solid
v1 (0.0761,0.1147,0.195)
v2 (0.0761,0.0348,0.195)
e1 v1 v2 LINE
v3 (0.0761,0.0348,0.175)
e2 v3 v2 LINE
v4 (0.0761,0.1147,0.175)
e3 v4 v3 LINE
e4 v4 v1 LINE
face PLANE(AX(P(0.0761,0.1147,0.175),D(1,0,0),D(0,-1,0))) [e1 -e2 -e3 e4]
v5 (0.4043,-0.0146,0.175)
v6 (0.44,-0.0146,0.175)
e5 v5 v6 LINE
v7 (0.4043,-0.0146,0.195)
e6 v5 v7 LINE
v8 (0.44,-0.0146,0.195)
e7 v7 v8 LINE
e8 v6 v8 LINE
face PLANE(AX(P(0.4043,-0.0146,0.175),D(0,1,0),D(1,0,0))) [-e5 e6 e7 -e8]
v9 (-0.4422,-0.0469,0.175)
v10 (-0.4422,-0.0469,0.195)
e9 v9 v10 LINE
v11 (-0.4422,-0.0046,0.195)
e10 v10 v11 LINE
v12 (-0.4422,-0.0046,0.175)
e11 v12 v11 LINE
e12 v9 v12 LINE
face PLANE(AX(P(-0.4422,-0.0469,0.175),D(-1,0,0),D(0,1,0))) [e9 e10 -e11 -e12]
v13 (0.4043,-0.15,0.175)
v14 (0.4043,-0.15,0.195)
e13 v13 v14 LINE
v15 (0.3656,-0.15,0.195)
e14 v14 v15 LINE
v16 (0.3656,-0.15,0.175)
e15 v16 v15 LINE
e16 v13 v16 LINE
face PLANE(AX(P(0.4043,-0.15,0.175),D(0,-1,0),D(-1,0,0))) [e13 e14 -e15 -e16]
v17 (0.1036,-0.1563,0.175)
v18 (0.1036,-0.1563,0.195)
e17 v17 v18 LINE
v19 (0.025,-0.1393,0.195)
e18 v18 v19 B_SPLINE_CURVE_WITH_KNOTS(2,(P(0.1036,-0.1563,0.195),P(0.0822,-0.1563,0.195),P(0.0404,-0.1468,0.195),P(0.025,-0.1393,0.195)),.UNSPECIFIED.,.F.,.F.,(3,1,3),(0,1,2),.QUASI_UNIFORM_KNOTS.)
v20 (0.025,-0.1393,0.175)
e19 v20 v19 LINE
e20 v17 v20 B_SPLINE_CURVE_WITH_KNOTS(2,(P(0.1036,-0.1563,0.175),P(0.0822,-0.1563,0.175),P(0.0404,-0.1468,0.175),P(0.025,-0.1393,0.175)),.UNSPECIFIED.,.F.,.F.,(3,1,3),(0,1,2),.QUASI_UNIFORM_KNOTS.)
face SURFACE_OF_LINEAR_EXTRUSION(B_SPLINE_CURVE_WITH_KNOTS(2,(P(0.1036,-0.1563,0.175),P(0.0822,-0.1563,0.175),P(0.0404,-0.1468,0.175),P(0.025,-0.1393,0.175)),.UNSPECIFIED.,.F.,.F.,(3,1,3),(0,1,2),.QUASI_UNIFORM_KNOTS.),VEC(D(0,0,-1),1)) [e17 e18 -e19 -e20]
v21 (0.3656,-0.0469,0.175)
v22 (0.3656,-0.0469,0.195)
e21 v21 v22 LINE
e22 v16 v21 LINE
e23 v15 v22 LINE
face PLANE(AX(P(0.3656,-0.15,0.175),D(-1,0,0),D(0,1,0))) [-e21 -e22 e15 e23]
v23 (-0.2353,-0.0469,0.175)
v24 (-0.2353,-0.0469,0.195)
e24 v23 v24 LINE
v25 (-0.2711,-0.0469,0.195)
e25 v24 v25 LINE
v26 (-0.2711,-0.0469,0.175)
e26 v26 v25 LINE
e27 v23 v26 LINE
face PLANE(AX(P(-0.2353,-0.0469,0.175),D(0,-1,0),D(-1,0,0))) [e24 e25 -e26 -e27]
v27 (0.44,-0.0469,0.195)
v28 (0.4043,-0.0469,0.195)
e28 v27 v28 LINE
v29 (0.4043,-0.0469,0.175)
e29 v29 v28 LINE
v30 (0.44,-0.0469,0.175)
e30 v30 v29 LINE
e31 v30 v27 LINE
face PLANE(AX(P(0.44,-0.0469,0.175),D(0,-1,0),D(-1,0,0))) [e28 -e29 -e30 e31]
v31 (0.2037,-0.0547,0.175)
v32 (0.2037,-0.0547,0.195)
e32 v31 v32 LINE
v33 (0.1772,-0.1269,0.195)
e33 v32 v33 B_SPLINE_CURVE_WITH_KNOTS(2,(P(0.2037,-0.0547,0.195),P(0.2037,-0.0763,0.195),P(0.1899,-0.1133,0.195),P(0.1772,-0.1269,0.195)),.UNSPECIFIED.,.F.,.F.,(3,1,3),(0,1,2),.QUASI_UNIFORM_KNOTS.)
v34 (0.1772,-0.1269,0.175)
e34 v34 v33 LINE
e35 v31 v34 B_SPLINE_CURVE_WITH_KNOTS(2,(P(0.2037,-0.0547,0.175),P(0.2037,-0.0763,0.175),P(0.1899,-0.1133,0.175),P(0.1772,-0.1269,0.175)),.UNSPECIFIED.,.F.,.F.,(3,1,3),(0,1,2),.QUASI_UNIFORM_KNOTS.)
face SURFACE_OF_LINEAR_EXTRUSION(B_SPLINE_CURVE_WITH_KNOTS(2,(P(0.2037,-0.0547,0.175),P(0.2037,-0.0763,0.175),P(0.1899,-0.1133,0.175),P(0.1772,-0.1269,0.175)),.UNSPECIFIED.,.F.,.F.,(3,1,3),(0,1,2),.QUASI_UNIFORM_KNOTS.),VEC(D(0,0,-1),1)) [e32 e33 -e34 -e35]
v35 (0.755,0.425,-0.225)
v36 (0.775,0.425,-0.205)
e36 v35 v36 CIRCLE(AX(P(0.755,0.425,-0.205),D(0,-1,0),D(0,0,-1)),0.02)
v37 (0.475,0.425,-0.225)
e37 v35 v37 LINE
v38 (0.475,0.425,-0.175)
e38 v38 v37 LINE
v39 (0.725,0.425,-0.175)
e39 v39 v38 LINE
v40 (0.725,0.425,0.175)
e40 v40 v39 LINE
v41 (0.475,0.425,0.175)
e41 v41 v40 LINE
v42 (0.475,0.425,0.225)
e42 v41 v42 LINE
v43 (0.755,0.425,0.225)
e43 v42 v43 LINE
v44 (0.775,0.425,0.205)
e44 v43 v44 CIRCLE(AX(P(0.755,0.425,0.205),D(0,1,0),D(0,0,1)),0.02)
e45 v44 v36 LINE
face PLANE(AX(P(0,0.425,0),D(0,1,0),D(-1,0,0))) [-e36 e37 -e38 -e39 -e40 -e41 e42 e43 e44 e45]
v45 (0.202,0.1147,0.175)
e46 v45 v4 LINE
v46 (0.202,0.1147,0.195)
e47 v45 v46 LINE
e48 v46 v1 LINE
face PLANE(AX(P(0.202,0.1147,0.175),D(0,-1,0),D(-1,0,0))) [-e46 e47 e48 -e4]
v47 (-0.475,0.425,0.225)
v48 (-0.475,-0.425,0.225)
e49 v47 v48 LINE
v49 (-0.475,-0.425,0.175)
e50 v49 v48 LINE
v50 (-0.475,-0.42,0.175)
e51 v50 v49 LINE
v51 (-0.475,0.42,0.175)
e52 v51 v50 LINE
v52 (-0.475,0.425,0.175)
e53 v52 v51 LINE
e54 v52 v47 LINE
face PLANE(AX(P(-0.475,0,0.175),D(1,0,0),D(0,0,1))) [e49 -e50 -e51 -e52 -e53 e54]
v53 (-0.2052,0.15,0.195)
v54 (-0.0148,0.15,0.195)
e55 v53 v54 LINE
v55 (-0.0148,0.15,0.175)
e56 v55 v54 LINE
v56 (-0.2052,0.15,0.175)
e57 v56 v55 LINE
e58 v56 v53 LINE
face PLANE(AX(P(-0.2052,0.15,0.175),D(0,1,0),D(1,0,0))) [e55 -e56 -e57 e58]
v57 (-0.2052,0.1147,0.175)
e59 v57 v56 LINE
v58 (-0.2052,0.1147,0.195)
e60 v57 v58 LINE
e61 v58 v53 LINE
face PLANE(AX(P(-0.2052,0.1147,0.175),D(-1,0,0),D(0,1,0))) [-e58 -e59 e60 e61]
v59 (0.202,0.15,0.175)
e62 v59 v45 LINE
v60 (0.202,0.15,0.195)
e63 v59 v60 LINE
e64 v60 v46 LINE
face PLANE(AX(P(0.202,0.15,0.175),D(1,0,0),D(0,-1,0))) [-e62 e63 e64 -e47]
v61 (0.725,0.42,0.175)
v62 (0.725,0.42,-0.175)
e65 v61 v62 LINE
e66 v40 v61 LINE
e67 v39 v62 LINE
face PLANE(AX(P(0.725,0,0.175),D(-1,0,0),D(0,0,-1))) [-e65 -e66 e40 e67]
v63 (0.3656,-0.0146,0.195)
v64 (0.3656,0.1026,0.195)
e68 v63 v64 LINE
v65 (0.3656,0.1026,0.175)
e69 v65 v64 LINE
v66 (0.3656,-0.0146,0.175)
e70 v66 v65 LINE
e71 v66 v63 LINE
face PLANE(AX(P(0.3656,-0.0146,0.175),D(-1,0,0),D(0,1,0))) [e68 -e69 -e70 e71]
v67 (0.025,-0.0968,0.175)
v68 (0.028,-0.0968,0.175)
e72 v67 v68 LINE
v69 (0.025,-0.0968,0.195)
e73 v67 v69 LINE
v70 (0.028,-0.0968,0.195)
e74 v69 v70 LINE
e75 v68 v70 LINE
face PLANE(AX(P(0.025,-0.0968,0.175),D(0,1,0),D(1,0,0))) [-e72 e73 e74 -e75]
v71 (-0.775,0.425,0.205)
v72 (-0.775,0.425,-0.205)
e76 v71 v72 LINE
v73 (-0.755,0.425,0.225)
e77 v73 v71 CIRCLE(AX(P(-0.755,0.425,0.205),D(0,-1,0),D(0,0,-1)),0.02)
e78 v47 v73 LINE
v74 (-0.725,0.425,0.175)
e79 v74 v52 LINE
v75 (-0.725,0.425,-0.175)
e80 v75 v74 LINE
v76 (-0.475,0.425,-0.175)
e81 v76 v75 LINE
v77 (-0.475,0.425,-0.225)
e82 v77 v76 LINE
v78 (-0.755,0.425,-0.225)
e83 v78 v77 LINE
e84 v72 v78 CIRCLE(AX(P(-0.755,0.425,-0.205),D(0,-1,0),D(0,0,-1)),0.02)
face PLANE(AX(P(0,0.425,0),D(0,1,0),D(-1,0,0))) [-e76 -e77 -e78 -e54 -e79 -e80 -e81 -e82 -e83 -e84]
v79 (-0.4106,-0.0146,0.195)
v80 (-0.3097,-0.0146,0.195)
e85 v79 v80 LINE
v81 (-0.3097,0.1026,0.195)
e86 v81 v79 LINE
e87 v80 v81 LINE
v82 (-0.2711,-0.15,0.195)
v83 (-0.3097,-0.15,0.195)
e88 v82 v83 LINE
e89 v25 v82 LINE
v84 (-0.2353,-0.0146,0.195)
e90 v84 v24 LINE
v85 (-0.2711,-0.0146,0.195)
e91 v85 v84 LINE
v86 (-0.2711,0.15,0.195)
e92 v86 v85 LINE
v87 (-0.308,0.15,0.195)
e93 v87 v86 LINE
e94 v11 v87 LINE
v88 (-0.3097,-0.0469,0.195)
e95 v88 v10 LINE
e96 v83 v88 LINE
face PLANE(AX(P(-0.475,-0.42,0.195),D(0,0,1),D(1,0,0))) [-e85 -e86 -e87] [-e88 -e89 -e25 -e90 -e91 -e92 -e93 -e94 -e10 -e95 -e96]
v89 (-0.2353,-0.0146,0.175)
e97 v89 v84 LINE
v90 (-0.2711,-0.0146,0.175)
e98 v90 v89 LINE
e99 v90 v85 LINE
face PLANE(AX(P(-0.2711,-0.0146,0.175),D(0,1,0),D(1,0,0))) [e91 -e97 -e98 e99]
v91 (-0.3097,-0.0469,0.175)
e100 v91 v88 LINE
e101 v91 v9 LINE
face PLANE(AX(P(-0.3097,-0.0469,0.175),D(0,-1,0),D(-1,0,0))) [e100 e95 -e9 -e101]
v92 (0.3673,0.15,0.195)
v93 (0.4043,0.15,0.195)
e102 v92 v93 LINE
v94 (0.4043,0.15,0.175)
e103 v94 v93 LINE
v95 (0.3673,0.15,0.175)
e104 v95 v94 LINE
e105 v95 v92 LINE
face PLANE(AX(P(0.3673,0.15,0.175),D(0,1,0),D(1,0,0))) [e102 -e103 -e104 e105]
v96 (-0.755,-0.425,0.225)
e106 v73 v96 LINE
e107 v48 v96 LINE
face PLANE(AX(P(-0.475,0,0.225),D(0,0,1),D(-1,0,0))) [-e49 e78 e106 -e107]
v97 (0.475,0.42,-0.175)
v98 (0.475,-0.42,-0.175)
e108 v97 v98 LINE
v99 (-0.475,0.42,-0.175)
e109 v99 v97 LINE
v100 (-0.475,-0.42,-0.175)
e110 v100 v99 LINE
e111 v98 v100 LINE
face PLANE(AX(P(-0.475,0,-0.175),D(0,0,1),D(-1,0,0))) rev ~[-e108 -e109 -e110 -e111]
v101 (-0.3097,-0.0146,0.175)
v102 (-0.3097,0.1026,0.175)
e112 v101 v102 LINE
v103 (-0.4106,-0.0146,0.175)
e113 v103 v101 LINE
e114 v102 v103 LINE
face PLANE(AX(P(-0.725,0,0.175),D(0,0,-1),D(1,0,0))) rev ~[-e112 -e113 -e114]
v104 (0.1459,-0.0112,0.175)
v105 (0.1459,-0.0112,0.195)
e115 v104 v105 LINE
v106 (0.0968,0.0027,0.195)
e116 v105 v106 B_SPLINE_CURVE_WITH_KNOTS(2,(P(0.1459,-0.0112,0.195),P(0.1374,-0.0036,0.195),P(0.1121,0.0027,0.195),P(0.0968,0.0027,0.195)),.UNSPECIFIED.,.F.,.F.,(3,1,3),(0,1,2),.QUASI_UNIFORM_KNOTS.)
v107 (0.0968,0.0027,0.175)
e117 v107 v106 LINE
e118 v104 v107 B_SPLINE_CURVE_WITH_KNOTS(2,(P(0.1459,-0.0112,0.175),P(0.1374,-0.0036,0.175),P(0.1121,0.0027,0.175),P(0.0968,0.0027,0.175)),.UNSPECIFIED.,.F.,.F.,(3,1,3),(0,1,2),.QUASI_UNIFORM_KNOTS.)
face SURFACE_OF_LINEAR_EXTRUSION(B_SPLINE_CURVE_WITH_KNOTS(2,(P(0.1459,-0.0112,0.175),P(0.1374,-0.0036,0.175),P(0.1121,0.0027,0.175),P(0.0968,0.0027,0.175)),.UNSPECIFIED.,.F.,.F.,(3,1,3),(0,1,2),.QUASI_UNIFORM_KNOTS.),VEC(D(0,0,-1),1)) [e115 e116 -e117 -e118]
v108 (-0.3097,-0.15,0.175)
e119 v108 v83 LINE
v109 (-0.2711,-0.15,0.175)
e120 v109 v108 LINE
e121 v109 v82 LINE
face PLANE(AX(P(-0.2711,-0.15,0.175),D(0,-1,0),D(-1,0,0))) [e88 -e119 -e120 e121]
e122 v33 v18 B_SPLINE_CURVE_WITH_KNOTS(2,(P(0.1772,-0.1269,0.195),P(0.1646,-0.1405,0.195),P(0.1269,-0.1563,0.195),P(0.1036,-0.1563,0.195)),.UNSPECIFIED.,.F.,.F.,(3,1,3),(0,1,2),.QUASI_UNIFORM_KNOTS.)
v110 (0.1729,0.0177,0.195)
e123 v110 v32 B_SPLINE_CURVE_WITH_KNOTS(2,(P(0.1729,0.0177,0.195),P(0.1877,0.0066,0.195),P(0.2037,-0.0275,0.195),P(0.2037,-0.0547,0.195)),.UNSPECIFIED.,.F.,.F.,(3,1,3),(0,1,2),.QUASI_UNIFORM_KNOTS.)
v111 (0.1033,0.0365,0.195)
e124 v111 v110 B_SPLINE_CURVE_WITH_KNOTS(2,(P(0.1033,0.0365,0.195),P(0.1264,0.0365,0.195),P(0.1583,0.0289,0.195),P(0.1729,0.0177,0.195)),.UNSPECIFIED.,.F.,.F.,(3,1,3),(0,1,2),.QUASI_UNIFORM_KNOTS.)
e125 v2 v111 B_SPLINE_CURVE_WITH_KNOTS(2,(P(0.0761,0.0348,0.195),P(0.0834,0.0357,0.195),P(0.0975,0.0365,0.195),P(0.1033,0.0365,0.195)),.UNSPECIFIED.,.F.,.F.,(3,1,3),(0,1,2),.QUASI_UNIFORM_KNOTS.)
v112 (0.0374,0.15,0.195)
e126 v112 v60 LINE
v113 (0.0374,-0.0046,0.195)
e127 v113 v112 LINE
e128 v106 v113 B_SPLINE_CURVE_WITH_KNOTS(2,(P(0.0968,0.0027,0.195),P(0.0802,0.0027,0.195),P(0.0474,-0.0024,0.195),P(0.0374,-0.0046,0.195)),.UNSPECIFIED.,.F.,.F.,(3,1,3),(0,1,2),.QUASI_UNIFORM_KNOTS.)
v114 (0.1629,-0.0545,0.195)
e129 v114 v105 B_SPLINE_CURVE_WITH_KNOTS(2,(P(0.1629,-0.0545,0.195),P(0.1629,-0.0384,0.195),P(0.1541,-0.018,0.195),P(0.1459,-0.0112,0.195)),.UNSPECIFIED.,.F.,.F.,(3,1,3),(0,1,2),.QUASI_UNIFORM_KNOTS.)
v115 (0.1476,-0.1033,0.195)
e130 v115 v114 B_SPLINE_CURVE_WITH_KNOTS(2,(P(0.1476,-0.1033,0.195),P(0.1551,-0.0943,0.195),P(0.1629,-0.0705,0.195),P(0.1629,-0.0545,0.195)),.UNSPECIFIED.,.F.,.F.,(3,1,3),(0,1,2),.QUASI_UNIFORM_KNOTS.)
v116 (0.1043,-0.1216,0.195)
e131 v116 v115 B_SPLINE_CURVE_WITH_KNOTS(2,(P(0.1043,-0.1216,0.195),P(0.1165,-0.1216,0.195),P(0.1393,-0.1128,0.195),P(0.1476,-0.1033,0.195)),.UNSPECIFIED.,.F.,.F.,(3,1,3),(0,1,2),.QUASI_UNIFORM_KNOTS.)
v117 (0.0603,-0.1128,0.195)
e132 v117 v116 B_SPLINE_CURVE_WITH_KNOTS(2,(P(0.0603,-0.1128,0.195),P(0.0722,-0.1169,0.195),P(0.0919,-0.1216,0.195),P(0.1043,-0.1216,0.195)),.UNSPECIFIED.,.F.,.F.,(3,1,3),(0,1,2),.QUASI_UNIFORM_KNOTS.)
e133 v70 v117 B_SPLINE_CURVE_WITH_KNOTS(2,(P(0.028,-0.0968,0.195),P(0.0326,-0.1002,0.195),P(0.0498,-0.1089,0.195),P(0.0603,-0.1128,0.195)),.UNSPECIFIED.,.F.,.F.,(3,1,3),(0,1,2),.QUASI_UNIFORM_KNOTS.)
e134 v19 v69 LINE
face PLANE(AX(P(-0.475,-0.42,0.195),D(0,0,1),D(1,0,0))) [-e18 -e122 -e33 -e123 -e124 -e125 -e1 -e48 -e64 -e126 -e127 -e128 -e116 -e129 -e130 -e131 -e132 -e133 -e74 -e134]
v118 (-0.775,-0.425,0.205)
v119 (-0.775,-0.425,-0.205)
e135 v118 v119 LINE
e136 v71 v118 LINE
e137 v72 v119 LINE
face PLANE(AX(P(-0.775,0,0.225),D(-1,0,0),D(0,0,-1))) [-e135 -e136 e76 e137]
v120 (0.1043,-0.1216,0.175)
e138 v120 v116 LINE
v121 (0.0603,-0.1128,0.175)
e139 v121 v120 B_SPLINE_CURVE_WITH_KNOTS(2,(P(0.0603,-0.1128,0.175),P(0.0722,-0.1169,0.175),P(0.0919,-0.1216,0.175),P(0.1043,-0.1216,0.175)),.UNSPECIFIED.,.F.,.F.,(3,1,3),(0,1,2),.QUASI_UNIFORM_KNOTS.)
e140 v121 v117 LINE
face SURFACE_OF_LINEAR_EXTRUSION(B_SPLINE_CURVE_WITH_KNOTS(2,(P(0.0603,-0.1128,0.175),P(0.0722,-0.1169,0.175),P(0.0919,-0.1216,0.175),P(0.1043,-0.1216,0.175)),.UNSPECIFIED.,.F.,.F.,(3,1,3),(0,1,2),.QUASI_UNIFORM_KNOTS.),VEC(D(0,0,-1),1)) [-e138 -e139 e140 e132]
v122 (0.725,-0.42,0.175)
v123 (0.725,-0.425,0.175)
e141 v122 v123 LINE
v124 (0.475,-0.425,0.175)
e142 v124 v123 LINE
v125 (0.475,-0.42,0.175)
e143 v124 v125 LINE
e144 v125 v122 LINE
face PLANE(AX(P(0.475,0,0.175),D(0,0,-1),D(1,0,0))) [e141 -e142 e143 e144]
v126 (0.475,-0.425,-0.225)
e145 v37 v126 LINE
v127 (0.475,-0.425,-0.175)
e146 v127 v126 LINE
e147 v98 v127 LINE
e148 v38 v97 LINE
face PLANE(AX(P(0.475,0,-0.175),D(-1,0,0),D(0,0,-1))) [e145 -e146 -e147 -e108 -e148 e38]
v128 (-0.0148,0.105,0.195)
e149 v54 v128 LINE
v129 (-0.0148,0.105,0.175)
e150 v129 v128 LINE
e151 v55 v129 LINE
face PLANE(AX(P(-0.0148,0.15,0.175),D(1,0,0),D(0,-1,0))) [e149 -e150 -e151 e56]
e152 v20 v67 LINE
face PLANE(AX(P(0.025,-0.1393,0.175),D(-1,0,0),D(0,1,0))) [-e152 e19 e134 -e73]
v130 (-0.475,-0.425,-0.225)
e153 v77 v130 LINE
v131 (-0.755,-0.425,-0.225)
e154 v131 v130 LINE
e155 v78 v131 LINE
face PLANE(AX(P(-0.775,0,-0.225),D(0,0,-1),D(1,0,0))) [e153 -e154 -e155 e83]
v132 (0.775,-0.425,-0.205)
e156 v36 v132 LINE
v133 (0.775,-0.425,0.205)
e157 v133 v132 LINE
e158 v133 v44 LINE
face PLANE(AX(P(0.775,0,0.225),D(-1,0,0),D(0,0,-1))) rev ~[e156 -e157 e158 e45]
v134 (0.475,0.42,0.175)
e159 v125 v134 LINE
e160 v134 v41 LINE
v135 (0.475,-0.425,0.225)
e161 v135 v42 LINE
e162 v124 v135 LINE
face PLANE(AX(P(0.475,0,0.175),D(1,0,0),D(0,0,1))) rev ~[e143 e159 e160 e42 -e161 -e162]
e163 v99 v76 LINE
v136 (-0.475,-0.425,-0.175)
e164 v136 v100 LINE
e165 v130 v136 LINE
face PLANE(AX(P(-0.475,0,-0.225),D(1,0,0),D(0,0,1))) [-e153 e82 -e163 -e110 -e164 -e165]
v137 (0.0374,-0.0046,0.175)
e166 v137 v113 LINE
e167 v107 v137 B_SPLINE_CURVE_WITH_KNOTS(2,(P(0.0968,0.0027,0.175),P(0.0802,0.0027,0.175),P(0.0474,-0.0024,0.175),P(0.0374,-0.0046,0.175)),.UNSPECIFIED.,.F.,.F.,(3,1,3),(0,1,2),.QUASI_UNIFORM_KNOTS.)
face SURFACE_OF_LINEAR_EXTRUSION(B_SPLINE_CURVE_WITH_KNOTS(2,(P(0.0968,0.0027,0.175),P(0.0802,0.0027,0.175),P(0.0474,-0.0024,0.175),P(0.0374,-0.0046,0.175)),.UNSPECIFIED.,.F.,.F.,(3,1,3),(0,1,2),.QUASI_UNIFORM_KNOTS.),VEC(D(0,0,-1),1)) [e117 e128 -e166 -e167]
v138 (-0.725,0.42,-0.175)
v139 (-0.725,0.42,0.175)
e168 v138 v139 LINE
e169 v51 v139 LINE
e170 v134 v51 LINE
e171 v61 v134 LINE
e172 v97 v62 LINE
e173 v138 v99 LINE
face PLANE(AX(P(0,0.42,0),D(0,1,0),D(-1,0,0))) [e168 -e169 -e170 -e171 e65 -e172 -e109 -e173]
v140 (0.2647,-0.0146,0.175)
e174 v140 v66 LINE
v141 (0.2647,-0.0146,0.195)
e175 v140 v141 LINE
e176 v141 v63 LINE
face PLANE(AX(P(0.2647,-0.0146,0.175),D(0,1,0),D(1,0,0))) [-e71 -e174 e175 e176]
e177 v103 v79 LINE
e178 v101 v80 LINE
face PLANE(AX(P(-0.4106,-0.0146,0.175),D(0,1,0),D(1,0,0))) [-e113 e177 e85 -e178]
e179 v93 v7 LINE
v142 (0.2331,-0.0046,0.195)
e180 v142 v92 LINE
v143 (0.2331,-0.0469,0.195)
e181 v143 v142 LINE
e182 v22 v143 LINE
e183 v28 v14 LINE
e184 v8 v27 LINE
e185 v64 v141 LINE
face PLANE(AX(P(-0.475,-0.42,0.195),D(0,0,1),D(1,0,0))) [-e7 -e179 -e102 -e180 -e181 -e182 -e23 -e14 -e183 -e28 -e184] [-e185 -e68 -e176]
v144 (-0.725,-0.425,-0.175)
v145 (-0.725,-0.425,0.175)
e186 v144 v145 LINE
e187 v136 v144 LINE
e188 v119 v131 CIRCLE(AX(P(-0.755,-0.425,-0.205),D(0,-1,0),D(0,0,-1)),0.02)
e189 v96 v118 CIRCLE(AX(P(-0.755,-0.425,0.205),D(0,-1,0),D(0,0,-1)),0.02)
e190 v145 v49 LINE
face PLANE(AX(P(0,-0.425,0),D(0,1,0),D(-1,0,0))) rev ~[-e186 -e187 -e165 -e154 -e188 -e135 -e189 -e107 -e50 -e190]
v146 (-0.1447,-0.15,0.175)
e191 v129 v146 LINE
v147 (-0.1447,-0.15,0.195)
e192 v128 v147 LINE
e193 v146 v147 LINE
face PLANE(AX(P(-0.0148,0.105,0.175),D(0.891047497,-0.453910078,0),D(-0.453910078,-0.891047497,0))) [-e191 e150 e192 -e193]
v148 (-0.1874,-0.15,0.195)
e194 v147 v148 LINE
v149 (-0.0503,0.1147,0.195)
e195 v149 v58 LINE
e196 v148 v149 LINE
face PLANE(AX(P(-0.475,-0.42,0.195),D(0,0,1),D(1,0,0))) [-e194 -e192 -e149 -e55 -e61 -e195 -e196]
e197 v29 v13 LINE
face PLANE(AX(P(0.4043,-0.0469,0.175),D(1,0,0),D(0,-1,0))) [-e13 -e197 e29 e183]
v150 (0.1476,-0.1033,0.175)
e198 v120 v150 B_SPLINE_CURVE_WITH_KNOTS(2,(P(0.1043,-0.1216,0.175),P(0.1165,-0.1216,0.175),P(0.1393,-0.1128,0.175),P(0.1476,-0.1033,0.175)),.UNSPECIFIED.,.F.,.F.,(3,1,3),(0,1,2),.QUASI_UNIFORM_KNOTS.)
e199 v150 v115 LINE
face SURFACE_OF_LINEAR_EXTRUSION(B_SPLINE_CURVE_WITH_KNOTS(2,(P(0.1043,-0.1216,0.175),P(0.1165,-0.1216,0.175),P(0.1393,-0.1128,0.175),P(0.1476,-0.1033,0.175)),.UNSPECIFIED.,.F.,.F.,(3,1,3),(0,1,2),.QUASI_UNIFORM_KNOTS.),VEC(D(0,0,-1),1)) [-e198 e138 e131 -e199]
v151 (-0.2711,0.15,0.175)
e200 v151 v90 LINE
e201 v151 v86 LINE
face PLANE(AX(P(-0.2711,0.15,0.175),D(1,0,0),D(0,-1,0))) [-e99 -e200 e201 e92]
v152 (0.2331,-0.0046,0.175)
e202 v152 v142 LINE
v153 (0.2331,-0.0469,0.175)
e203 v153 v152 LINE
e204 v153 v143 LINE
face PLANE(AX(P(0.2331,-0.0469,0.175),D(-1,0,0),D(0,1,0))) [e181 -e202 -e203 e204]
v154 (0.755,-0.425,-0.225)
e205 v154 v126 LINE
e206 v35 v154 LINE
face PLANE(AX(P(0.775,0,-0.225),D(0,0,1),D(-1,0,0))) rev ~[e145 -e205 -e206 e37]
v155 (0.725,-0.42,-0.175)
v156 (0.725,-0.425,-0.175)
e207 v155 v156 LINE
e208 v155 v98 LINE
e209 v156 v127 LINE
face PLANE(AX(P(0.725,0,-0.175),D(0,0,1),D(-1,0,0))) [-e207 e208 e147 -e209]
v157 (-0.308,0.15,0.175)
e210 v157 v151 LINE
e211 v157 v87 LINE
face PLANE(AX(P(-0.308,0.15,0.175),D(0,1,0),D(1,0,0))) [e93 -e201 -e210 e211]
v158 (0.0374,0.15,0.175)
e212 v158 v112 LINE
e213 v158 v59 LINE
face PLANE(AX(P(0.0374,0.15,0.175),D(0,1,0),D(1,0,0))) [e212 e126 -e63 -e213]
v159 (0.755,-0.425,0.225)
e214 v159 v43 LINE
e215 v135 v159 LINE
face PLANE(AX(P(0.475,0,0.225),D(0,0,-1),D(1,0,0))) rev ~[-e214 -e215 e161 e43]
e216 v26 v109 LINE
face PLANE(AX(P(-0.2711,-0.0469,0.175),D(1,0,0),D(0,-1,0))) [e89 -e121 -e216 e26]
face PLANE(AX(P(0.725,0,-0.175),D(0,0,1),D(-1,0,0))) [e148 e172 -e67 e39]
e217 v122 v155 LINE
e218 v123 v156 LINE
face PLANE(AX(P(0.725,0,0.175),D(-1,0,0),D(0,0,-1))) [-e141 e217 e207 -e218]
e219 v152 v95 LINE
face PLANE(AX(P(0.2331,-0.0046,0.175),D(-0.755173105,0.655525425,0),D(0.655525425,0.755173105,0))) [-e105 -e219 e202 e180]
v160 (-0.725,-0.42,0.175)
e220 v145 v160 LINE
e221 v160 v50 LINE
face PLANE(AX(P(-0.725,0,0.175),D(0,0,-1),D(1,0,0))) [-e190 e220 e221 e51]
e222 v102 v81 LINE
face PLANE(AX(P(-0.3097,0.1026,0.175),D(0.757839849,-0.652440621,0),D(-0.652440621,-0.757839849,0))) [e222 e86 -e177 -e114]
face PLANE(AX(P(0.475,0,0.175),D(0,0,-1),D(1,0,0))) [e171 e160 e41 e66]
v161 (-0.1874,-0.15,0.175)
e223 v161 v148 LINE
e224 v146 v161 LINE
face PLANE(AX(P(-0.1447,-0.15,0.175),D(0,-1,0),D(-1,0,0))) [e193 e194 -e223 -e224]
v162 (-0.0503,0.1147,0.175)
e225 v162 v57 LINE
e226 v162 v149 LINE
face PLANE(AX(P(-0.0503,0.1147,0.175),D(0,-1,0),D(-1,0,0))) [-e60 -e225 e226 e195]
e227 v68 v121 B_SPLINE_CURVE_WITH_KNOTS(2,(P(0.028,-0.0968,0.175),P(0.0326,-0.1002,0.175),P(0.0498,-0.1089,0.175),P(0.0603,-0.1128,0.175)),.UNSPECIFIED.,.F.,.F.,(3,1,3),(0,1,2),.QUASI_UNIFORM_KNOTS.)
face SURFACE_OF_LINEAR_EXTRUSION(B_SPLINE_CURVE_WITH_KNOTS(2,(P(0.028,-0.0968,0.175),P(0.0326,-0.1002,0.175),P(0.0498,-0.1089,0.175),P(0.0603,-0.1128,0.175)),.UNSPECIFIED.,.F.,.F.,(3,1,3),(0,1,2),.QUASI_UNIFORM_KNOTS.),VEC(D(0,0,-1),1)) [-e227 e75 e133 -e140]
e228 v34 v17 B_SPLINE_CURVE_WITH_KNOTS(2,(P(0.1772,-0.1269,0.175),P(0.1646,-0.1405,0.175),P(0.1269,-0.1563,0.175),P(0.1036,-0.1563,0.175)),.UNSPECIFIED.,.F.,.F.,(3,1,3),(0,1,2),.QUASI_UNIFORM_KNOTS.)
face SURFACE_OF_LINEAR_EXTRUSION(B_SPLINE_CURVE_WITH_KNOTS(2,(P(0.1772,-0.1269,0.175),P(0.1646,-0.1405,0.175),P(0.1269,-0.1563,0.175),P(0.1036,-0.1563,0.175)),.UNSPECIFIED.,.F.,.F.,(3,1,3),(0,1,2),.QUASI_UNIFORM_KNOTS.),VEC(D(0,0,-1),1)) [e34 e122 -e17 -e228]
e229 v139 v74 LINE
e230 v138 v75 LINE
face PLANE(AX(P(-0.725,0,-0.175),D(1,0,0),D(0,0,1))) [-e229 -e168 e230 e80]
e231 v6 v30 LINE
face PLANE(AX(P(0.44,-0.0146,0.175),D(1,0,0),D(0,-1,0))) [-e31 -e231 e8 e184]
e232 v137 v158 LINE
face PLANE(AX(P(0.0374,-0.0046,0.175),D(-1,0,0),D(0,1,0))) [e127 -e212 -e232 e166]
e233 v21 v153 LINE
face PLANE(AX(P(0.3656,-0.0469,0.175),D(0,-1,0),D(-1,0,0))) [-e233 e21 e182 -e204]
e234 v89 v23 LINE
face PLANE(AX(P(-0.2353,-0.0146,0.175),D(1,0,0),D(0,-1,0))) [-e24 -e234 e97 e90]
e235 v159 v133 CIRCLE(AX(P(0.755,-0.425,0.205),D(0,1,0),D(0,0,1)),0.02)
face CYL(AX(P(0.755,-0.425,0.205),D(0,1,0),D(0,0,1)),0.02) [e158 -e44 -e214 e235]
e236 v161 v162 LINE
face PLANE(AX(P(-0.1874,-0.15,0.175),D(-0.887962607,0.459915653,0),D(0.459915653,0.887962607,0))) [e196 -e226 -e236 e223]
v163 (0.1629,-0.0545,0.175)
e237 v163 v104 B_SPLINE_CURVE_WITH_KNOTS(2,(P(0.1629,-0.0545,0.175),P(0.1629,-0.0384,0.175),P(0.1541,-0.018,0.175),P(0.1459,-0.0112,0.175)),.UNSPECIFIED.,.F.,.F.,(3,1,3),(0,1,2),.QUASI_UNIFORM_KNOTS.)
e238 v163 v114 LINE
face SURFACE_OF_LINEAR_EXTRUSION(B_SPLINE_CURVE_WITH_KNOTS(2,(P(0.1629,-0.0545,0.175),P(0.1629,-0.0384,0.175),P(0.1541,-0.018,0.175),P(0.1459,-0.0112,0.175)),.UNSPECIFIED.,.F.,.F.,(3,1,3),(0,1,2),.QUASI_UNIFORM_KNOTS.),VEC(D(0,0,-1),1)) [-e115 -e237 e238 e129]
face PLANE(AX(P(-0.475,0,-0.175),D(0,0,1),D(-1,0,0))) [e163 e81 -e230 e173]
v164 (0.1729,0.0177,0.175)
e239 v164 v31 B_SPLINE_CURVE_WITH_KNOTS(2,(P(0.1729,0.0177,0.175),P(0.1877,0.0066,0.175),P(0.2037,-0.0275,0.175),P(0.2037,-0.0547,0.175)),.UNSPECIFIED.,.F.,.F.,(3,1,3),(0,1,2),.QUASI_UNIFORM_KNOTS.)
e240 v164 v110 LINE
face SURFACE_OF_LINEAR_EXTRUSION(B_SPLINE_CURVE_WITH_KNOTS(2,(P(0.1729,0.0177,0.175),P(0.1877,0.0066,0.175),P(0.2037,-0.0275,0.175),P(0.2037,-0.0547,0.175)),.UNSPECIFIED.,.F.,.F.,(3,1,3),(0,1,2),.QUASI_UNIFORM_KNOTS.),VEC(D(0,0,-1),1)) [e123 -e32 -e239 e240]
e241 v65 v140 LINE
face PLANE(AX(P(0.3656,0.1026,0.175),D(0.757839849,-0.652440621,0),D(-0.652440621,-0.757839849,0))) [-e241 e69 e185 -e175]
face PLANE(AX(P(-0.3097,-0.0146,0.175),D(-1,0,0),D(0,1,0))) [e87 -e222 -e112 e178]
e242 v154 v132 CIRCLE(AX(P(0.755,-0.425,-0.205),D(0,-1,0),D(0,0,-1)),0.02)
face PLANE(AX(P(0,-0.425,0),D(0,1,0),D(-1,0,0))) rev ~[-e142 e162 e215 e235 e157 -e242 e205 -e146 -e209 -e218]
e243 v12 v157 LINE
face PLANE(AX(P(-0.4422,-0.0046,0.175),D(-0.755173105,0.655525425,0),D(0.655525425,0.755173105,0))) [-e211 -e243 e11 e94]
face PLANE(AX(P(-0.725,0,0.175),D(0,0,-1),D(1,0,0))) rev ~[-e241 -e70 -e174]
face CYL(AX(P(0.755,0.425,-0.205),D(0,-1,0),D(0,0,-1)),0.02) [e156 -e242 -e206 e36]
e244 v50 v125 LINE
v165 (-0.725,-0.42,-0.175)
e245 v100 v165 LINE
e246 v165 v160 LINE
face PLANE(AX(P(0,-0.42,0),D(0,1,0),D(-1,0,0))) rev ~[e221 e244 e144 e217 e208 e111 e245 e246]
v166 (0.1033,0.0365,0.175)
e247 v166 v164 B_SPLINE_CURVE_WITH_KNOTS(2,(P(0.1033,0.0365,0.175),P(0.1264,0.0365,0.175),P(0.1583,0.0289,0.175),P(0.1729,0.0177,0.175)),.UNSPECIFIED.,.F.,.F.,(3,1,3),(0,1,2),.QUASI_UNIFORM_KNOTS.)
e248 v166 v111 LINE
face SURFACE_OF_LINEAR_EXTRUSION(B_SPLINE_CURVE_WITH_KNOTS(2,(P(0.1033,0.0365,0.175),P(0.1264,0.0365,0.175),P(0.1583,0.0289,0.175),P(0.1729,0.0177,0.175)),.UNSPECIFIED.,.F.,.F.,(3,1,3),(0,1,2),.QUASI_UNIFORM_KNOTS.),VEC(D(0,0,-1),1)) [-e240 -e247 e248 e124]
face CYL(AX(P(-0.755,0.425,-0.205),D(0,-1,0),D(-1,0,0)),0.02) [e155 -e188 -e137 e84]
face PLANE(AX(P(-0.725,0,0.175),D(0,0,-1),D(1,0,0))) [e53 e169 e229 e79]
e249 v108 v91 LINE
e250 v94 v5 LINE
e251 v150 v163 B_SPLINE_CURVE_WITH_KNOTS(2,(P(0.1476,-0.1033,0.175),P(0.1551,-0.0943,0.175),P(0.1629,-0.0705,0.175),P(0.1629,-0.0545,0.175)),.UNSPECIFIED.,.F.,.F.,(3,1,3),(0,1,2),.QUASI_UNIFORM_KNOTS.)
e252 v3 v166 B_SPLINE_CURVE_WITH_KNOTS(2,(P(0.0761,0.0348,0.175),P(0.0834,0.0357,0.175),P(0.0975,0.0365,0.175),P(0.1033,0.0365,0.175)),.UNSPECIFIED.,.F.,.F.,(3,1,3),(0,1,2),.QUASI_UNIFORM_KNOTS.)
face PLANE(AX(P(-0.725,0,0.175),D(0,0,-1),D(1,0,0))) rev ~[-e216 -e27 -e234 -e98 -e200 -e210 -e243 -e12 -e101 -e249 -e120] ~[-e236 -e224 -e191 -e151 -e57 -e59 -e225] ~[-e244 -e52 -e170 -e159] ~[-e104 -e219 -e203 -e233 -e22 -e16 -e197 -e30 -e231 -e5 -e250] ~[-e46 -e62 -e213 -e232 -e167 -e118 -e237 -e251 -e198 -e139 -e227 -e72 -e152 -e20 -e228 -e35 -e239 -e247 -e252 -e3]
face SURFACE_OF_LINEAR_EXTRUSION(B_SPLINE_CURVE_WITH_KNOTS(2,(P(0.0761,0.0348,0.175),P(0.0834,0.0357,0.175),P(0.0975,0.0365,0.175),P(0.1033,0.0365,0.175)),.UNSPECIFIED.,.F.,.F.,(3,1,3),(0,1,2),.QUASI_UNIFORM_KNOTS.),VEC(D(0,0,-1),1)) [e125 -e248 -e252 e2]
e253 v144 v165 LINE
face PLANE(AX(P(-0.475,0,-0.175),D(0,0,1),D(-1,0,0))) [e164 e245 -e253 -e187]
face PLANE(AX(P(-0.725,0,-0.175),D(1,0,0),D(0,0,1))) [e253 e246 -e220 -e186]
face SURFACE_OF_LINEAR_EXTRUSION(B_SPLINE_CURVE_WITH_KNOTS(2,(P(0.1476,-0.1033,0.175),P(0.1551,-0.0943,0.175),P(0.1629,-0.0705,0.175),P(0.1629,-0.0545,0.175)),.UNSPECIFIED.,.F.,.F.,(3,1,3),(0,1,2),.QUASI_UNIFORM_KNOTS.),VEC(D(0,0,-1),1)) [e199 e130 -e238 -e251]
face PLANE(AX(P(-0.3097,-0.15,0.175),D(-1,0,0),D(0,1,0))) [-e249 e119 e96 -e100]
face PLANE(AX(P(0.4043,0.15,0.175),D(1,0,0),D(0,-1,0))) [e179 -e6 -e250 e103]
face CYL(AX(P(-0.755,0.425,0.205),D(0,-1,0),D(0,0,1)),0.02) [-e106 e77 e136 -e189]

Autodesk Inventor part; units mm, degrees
ref_plane "YZ Plane" through (0, 0, 0) normal (1, 0, 0) x (0, 1, 0)
ref_plane "XZ Plane" through (0, 0, 0) normal (0, 1, 0) x (-1, 0, 0)
ref_plane "XY Plane" through (0, 0, 0) normal (0, 0, 1) x (1, 0, 0)
sketch "Sketch1" plane through (0, 0, 0) normal (0, 1, 0) x (-1, 0, 0)
  line L0 (0.725, 0.175) -> (-0.725, 0.175)
  line L1 (-0.725, 0.175) -> (-0.725, -0.175)
  line L2 (-0.725, -0.175) -> (0.725, -0.175)
  line L3 (0.725, -0.175) -> (0.725, 0.175)
  line L4 (0.475, 0.175) -> (0.475, 0.225)
  line L5 (0.475, 0.225) -> (0.775, 0.225)
  line L6 (0.775, 0.225) -> (0.775, -0.225)
  line L7 (0.775, -0.225) -> (0.475, -0.225)
  line L8 (0.475, -0.225) -> (0.475, -0.175)
  line L9 (-0.475, 0.175) -> (-0.475, 0.225)
  line L10 (-0.475, 0.225) -> (-0.775, 0.225)
  line L11 (-0.775, 0.225) -> (-0.775, -0.225)
  line L12 (-0.775, -0.225) -> (-0.475, -0.225)
  line L13 (-0.475, -0.175) -> (-0.475, -0.225)
  line L14 (0.475, 0.175) -> (-0.475, 0.175)
  point P0 (0, 0)
  point P1 (0, 0.175)
  point P2 (0.725, 0)
  dimension "d0" = 1.55
  dimension "d1" = 0.05
  dimension "d2" = 0.05
  dimension "d3" = 0.45
  dimension "d4" = 0.3
extrude "Extrusion1" add sketch "Sketch1" along normal mid plane 0.85 contours L0 L4 L5 L6 L7 L8 L2 L3 | L0 L1 L2 L13 L12 L11 L10 L9
extrude "Extrusion2" add sketch "Sketch1" along normal mid plane 0.84 contours L3 L2 L1 L0
sketch "Sketch2" plane through (-0.475, -0.42, 0.175) normal (0, 0, 1) x (1, 0, 0)
  line L0 (0, 0) -> (0, 0.84) projected
  line L1 (0.95, 0) -> (0, 0) projected
  line L2 (0.95, 0) -> (0.95, 0.84) projected
  line L3 (0, 0.84) -> (0.95, 0.84) projected
  line L4 (0, 0.42) -> (0.95, 0.42) construction
  line L5 (0.2397, 0.3731) -> (0.2039, 0.3731)
  line L6 (0.2039, 0.3731) -> (0.2039, 0.27)
  line L7 (0.2039, 0.27) -> (0.1653, 0.27)
  line L8 (0.1653, 0.27) -> (0.1653, 0.3731)
  line L9 (0.1653, 0.3731) -> (0.0328, 0.3731)
  line L10 (0.0328, 0.3731) -> (0.0328, 0.4154)
  line L11 (0.0328, 0.4154) -> (0.167, 0.57)
  line L12 (0.167, 0.57) -> (0.2039, 0.57)
  line L13 (0.2039, 0.57) -> (0.2039, 0.4054)
  line L14 (0.2039, 0.4054) -> (0.2397, 0.4054)
  line L15 (0.2397, 0.4054) -> (0.2397, 0.3731)
  line L16 (0.1653, 0.4054) -> (0.1653, 0.5226)
  line L17 (0.1653, 0.5226) -> (0.0644, 0.4054)
  line L18 (0.0644, 0.4054) -> (0.1653, 0.4054)
  line L19 (0.4602, 0.525) -> (0.3303, 0.27)
  line L20 (0.3303, 0.27) -> (0.2876, 0.27)
  line L21 (0.2876, 0.27) -> (0.4247, 0.5347)
  line L22 (0.4247, 0.5347) -> (0.2698, 0.5347)
  line L23 (0.2698, 0.5347) -> (0.2698, 0.57)
  line L24 (0.2698, 0.57) -> (0.4602, 0.57)
  line L25 (0.4602, 0.57) -> (0.4602, 0.525)
  spline S0 degree 2 poles (0.6787, 0.3653) (0.6787, 0.3437) (0.6649, 0.3067) (0.6522, 0.2931) knots 0 0 0 1 2 2 2
  spline S1 degree 2 poles (0.6522, 0.2931) (0.6396, 0.2795) (0.6019, 0.2637) (0.5786, 0.2637) knots 0 0 0 1 2 2 2
  spline S2 degree 2 poles (0.5786, 0.2637) (0.5572, 0.2637) (0.5154, 0.2732) (0.5, 0.2807) knots 0 0 0 1 2 2 2
  line L26 (0.5, 0.2807) -> (0.5, 0.3232)
  line L27 (0.5, 0.3232) -> (0.503, 0.3232)
  spline S3 degree 2 poles (0.503, 0.3232) (0.5076, 0.3198) (0.5248, 0.3111) (0.5353, 0.3072) knots 0 0 0 1 2 2 2
  spline S4 degree 2 poles (0.5353, 0.3072) (0.5472, 0.3031) (0.5669, 0.2984) (0.5793, 0.2984) knots 0 0 0 1 2 2 2
  spline S5 degree 2 poles (0.5793, 0.2984) (0.5915, 0.2984) (0.6143, 0.3072) (0.6226, 0.3167) knots 0 0 0 1 2 2 2
  spline S6 degree 2 poles (0.6226, 0.3167) (0.6301, 0.3257) (0.6379, 0.3495) (0.6379, 0.3655) knots 0 0 0 1 2 2 2
  spline S7 degree 2 poles (0.6379, 0.3655) (0.6379, 0.3816) (0.6291, 0.402) (0.6209, 0.4088) knots 0 0 0 1 2 2 2
  spline S8 degree 2 poles (0.6209, 0.4088) (0.6124, 0.4164) (0.5871, 0.4227) (0.5718, 0.4227) knots 0 0 0 1 2 2 2
  spline S9 degree 2 poles (0.5718, 0.4227) (0.5552, 0.4227) (0.5224, 0.4176) (0.5124, 0.4154) knots 0 0 0 1 2 2 2
  line L28 (0.5124, 0.4154) -> (0.5124, 0.57)
  line L29 (0.5124, 0.57) -> (0.677, 0.57)
  line L30 (0.677, 0.57) -> (0.677, 0.5347)
  line L31 (0.677, 0.5347) -> (0.5511, 0.5347)
  line L32 (0.5511, 0.5347) -> (0.5511, 0.4548)
  spline S10 degree 2 poles (0.5511, 0.4548) (0.5584, 0.4557) (0.5725, 0.4565) (0.5783, 0.4565) knots 0 0 0 1 2 2 2
  spline S11 degree 2 poles (0.5783, 0.4565) (0.6014, 0.4565) (0.6333, 0.4489) (0.6479, 0.4377) knots 0 0 0 1 2 2 2
  spline S12 degree 2 poles (0.6479, 0.4377) (0.6627, 0.4266) (0.6787, 0.3925) (0.6787, 0.3653) knots 0 0 0 1 2 2 2
  line L33 (0.915, 0.3731) -> (0.8793, 0.3731)
  line L34 (0.8793, 0.3731) -> (0.8793, 0.27)
  line L35 (0.8793, 0.27) -> (0.8406, 0.27)
  line L36 (0.8406, 0.27) -> (0.8406, 0.3731)
  line L37 (0.8406, 0.3731) -> (0.7081, 0.3731)
  line L38 (0.7081, 0.3731) -> (0.7081, 0.4154)
  line L39 (0.7081, 0.4154) -> (0.8423, 0.57)
  line L40 (0.8423, 0.57) -> (0.8793, 0.57)
  line L41 (0.8793, 0.57) -> (0.8793, 0.4054)
  line L42 (0.8793, 0.4054) -> (0.915, 0.4054)
  line L43 (0.915, 0.4054) -> (0.915, 0.3731)
  line L44 (0.8406, 0.4054) -> (0.8406, 0.5226)
  line L45 (0.8406, 0.5226) -> (0.7397, 0.4054)
  line L46 (0.7397, 0.4054) -> (0.8406, 0.4054)
  point P0 (0.475, 0.42)
extrude "Extrusion3" add sketch "Sketch2" along normal blind 0.02 contours L5 L6 L7 L8 L9 L10 L11 L12 L13 L14 L15 | L19 L20 L21 L22 L23 L24 L25 | S0 S1 S2 L26 L27 S3 S4 S5 S6 S7 S8 S9 L28 L29 L30 L31 L32 S10 S11 S12 | L33 L34 L35 L36 L37 L38 L39 L40 L41 L42 L43
fillet "Fillet1" radius 0.02 4 edges at (-0.775, 0, 0.225) (-0.775, 0, -0.225) (0.775, 0, 0.225) (0.775, 0, -0.225)
equation "\"d2\" = d1"
properties part number "21-1001" material "Copper"
